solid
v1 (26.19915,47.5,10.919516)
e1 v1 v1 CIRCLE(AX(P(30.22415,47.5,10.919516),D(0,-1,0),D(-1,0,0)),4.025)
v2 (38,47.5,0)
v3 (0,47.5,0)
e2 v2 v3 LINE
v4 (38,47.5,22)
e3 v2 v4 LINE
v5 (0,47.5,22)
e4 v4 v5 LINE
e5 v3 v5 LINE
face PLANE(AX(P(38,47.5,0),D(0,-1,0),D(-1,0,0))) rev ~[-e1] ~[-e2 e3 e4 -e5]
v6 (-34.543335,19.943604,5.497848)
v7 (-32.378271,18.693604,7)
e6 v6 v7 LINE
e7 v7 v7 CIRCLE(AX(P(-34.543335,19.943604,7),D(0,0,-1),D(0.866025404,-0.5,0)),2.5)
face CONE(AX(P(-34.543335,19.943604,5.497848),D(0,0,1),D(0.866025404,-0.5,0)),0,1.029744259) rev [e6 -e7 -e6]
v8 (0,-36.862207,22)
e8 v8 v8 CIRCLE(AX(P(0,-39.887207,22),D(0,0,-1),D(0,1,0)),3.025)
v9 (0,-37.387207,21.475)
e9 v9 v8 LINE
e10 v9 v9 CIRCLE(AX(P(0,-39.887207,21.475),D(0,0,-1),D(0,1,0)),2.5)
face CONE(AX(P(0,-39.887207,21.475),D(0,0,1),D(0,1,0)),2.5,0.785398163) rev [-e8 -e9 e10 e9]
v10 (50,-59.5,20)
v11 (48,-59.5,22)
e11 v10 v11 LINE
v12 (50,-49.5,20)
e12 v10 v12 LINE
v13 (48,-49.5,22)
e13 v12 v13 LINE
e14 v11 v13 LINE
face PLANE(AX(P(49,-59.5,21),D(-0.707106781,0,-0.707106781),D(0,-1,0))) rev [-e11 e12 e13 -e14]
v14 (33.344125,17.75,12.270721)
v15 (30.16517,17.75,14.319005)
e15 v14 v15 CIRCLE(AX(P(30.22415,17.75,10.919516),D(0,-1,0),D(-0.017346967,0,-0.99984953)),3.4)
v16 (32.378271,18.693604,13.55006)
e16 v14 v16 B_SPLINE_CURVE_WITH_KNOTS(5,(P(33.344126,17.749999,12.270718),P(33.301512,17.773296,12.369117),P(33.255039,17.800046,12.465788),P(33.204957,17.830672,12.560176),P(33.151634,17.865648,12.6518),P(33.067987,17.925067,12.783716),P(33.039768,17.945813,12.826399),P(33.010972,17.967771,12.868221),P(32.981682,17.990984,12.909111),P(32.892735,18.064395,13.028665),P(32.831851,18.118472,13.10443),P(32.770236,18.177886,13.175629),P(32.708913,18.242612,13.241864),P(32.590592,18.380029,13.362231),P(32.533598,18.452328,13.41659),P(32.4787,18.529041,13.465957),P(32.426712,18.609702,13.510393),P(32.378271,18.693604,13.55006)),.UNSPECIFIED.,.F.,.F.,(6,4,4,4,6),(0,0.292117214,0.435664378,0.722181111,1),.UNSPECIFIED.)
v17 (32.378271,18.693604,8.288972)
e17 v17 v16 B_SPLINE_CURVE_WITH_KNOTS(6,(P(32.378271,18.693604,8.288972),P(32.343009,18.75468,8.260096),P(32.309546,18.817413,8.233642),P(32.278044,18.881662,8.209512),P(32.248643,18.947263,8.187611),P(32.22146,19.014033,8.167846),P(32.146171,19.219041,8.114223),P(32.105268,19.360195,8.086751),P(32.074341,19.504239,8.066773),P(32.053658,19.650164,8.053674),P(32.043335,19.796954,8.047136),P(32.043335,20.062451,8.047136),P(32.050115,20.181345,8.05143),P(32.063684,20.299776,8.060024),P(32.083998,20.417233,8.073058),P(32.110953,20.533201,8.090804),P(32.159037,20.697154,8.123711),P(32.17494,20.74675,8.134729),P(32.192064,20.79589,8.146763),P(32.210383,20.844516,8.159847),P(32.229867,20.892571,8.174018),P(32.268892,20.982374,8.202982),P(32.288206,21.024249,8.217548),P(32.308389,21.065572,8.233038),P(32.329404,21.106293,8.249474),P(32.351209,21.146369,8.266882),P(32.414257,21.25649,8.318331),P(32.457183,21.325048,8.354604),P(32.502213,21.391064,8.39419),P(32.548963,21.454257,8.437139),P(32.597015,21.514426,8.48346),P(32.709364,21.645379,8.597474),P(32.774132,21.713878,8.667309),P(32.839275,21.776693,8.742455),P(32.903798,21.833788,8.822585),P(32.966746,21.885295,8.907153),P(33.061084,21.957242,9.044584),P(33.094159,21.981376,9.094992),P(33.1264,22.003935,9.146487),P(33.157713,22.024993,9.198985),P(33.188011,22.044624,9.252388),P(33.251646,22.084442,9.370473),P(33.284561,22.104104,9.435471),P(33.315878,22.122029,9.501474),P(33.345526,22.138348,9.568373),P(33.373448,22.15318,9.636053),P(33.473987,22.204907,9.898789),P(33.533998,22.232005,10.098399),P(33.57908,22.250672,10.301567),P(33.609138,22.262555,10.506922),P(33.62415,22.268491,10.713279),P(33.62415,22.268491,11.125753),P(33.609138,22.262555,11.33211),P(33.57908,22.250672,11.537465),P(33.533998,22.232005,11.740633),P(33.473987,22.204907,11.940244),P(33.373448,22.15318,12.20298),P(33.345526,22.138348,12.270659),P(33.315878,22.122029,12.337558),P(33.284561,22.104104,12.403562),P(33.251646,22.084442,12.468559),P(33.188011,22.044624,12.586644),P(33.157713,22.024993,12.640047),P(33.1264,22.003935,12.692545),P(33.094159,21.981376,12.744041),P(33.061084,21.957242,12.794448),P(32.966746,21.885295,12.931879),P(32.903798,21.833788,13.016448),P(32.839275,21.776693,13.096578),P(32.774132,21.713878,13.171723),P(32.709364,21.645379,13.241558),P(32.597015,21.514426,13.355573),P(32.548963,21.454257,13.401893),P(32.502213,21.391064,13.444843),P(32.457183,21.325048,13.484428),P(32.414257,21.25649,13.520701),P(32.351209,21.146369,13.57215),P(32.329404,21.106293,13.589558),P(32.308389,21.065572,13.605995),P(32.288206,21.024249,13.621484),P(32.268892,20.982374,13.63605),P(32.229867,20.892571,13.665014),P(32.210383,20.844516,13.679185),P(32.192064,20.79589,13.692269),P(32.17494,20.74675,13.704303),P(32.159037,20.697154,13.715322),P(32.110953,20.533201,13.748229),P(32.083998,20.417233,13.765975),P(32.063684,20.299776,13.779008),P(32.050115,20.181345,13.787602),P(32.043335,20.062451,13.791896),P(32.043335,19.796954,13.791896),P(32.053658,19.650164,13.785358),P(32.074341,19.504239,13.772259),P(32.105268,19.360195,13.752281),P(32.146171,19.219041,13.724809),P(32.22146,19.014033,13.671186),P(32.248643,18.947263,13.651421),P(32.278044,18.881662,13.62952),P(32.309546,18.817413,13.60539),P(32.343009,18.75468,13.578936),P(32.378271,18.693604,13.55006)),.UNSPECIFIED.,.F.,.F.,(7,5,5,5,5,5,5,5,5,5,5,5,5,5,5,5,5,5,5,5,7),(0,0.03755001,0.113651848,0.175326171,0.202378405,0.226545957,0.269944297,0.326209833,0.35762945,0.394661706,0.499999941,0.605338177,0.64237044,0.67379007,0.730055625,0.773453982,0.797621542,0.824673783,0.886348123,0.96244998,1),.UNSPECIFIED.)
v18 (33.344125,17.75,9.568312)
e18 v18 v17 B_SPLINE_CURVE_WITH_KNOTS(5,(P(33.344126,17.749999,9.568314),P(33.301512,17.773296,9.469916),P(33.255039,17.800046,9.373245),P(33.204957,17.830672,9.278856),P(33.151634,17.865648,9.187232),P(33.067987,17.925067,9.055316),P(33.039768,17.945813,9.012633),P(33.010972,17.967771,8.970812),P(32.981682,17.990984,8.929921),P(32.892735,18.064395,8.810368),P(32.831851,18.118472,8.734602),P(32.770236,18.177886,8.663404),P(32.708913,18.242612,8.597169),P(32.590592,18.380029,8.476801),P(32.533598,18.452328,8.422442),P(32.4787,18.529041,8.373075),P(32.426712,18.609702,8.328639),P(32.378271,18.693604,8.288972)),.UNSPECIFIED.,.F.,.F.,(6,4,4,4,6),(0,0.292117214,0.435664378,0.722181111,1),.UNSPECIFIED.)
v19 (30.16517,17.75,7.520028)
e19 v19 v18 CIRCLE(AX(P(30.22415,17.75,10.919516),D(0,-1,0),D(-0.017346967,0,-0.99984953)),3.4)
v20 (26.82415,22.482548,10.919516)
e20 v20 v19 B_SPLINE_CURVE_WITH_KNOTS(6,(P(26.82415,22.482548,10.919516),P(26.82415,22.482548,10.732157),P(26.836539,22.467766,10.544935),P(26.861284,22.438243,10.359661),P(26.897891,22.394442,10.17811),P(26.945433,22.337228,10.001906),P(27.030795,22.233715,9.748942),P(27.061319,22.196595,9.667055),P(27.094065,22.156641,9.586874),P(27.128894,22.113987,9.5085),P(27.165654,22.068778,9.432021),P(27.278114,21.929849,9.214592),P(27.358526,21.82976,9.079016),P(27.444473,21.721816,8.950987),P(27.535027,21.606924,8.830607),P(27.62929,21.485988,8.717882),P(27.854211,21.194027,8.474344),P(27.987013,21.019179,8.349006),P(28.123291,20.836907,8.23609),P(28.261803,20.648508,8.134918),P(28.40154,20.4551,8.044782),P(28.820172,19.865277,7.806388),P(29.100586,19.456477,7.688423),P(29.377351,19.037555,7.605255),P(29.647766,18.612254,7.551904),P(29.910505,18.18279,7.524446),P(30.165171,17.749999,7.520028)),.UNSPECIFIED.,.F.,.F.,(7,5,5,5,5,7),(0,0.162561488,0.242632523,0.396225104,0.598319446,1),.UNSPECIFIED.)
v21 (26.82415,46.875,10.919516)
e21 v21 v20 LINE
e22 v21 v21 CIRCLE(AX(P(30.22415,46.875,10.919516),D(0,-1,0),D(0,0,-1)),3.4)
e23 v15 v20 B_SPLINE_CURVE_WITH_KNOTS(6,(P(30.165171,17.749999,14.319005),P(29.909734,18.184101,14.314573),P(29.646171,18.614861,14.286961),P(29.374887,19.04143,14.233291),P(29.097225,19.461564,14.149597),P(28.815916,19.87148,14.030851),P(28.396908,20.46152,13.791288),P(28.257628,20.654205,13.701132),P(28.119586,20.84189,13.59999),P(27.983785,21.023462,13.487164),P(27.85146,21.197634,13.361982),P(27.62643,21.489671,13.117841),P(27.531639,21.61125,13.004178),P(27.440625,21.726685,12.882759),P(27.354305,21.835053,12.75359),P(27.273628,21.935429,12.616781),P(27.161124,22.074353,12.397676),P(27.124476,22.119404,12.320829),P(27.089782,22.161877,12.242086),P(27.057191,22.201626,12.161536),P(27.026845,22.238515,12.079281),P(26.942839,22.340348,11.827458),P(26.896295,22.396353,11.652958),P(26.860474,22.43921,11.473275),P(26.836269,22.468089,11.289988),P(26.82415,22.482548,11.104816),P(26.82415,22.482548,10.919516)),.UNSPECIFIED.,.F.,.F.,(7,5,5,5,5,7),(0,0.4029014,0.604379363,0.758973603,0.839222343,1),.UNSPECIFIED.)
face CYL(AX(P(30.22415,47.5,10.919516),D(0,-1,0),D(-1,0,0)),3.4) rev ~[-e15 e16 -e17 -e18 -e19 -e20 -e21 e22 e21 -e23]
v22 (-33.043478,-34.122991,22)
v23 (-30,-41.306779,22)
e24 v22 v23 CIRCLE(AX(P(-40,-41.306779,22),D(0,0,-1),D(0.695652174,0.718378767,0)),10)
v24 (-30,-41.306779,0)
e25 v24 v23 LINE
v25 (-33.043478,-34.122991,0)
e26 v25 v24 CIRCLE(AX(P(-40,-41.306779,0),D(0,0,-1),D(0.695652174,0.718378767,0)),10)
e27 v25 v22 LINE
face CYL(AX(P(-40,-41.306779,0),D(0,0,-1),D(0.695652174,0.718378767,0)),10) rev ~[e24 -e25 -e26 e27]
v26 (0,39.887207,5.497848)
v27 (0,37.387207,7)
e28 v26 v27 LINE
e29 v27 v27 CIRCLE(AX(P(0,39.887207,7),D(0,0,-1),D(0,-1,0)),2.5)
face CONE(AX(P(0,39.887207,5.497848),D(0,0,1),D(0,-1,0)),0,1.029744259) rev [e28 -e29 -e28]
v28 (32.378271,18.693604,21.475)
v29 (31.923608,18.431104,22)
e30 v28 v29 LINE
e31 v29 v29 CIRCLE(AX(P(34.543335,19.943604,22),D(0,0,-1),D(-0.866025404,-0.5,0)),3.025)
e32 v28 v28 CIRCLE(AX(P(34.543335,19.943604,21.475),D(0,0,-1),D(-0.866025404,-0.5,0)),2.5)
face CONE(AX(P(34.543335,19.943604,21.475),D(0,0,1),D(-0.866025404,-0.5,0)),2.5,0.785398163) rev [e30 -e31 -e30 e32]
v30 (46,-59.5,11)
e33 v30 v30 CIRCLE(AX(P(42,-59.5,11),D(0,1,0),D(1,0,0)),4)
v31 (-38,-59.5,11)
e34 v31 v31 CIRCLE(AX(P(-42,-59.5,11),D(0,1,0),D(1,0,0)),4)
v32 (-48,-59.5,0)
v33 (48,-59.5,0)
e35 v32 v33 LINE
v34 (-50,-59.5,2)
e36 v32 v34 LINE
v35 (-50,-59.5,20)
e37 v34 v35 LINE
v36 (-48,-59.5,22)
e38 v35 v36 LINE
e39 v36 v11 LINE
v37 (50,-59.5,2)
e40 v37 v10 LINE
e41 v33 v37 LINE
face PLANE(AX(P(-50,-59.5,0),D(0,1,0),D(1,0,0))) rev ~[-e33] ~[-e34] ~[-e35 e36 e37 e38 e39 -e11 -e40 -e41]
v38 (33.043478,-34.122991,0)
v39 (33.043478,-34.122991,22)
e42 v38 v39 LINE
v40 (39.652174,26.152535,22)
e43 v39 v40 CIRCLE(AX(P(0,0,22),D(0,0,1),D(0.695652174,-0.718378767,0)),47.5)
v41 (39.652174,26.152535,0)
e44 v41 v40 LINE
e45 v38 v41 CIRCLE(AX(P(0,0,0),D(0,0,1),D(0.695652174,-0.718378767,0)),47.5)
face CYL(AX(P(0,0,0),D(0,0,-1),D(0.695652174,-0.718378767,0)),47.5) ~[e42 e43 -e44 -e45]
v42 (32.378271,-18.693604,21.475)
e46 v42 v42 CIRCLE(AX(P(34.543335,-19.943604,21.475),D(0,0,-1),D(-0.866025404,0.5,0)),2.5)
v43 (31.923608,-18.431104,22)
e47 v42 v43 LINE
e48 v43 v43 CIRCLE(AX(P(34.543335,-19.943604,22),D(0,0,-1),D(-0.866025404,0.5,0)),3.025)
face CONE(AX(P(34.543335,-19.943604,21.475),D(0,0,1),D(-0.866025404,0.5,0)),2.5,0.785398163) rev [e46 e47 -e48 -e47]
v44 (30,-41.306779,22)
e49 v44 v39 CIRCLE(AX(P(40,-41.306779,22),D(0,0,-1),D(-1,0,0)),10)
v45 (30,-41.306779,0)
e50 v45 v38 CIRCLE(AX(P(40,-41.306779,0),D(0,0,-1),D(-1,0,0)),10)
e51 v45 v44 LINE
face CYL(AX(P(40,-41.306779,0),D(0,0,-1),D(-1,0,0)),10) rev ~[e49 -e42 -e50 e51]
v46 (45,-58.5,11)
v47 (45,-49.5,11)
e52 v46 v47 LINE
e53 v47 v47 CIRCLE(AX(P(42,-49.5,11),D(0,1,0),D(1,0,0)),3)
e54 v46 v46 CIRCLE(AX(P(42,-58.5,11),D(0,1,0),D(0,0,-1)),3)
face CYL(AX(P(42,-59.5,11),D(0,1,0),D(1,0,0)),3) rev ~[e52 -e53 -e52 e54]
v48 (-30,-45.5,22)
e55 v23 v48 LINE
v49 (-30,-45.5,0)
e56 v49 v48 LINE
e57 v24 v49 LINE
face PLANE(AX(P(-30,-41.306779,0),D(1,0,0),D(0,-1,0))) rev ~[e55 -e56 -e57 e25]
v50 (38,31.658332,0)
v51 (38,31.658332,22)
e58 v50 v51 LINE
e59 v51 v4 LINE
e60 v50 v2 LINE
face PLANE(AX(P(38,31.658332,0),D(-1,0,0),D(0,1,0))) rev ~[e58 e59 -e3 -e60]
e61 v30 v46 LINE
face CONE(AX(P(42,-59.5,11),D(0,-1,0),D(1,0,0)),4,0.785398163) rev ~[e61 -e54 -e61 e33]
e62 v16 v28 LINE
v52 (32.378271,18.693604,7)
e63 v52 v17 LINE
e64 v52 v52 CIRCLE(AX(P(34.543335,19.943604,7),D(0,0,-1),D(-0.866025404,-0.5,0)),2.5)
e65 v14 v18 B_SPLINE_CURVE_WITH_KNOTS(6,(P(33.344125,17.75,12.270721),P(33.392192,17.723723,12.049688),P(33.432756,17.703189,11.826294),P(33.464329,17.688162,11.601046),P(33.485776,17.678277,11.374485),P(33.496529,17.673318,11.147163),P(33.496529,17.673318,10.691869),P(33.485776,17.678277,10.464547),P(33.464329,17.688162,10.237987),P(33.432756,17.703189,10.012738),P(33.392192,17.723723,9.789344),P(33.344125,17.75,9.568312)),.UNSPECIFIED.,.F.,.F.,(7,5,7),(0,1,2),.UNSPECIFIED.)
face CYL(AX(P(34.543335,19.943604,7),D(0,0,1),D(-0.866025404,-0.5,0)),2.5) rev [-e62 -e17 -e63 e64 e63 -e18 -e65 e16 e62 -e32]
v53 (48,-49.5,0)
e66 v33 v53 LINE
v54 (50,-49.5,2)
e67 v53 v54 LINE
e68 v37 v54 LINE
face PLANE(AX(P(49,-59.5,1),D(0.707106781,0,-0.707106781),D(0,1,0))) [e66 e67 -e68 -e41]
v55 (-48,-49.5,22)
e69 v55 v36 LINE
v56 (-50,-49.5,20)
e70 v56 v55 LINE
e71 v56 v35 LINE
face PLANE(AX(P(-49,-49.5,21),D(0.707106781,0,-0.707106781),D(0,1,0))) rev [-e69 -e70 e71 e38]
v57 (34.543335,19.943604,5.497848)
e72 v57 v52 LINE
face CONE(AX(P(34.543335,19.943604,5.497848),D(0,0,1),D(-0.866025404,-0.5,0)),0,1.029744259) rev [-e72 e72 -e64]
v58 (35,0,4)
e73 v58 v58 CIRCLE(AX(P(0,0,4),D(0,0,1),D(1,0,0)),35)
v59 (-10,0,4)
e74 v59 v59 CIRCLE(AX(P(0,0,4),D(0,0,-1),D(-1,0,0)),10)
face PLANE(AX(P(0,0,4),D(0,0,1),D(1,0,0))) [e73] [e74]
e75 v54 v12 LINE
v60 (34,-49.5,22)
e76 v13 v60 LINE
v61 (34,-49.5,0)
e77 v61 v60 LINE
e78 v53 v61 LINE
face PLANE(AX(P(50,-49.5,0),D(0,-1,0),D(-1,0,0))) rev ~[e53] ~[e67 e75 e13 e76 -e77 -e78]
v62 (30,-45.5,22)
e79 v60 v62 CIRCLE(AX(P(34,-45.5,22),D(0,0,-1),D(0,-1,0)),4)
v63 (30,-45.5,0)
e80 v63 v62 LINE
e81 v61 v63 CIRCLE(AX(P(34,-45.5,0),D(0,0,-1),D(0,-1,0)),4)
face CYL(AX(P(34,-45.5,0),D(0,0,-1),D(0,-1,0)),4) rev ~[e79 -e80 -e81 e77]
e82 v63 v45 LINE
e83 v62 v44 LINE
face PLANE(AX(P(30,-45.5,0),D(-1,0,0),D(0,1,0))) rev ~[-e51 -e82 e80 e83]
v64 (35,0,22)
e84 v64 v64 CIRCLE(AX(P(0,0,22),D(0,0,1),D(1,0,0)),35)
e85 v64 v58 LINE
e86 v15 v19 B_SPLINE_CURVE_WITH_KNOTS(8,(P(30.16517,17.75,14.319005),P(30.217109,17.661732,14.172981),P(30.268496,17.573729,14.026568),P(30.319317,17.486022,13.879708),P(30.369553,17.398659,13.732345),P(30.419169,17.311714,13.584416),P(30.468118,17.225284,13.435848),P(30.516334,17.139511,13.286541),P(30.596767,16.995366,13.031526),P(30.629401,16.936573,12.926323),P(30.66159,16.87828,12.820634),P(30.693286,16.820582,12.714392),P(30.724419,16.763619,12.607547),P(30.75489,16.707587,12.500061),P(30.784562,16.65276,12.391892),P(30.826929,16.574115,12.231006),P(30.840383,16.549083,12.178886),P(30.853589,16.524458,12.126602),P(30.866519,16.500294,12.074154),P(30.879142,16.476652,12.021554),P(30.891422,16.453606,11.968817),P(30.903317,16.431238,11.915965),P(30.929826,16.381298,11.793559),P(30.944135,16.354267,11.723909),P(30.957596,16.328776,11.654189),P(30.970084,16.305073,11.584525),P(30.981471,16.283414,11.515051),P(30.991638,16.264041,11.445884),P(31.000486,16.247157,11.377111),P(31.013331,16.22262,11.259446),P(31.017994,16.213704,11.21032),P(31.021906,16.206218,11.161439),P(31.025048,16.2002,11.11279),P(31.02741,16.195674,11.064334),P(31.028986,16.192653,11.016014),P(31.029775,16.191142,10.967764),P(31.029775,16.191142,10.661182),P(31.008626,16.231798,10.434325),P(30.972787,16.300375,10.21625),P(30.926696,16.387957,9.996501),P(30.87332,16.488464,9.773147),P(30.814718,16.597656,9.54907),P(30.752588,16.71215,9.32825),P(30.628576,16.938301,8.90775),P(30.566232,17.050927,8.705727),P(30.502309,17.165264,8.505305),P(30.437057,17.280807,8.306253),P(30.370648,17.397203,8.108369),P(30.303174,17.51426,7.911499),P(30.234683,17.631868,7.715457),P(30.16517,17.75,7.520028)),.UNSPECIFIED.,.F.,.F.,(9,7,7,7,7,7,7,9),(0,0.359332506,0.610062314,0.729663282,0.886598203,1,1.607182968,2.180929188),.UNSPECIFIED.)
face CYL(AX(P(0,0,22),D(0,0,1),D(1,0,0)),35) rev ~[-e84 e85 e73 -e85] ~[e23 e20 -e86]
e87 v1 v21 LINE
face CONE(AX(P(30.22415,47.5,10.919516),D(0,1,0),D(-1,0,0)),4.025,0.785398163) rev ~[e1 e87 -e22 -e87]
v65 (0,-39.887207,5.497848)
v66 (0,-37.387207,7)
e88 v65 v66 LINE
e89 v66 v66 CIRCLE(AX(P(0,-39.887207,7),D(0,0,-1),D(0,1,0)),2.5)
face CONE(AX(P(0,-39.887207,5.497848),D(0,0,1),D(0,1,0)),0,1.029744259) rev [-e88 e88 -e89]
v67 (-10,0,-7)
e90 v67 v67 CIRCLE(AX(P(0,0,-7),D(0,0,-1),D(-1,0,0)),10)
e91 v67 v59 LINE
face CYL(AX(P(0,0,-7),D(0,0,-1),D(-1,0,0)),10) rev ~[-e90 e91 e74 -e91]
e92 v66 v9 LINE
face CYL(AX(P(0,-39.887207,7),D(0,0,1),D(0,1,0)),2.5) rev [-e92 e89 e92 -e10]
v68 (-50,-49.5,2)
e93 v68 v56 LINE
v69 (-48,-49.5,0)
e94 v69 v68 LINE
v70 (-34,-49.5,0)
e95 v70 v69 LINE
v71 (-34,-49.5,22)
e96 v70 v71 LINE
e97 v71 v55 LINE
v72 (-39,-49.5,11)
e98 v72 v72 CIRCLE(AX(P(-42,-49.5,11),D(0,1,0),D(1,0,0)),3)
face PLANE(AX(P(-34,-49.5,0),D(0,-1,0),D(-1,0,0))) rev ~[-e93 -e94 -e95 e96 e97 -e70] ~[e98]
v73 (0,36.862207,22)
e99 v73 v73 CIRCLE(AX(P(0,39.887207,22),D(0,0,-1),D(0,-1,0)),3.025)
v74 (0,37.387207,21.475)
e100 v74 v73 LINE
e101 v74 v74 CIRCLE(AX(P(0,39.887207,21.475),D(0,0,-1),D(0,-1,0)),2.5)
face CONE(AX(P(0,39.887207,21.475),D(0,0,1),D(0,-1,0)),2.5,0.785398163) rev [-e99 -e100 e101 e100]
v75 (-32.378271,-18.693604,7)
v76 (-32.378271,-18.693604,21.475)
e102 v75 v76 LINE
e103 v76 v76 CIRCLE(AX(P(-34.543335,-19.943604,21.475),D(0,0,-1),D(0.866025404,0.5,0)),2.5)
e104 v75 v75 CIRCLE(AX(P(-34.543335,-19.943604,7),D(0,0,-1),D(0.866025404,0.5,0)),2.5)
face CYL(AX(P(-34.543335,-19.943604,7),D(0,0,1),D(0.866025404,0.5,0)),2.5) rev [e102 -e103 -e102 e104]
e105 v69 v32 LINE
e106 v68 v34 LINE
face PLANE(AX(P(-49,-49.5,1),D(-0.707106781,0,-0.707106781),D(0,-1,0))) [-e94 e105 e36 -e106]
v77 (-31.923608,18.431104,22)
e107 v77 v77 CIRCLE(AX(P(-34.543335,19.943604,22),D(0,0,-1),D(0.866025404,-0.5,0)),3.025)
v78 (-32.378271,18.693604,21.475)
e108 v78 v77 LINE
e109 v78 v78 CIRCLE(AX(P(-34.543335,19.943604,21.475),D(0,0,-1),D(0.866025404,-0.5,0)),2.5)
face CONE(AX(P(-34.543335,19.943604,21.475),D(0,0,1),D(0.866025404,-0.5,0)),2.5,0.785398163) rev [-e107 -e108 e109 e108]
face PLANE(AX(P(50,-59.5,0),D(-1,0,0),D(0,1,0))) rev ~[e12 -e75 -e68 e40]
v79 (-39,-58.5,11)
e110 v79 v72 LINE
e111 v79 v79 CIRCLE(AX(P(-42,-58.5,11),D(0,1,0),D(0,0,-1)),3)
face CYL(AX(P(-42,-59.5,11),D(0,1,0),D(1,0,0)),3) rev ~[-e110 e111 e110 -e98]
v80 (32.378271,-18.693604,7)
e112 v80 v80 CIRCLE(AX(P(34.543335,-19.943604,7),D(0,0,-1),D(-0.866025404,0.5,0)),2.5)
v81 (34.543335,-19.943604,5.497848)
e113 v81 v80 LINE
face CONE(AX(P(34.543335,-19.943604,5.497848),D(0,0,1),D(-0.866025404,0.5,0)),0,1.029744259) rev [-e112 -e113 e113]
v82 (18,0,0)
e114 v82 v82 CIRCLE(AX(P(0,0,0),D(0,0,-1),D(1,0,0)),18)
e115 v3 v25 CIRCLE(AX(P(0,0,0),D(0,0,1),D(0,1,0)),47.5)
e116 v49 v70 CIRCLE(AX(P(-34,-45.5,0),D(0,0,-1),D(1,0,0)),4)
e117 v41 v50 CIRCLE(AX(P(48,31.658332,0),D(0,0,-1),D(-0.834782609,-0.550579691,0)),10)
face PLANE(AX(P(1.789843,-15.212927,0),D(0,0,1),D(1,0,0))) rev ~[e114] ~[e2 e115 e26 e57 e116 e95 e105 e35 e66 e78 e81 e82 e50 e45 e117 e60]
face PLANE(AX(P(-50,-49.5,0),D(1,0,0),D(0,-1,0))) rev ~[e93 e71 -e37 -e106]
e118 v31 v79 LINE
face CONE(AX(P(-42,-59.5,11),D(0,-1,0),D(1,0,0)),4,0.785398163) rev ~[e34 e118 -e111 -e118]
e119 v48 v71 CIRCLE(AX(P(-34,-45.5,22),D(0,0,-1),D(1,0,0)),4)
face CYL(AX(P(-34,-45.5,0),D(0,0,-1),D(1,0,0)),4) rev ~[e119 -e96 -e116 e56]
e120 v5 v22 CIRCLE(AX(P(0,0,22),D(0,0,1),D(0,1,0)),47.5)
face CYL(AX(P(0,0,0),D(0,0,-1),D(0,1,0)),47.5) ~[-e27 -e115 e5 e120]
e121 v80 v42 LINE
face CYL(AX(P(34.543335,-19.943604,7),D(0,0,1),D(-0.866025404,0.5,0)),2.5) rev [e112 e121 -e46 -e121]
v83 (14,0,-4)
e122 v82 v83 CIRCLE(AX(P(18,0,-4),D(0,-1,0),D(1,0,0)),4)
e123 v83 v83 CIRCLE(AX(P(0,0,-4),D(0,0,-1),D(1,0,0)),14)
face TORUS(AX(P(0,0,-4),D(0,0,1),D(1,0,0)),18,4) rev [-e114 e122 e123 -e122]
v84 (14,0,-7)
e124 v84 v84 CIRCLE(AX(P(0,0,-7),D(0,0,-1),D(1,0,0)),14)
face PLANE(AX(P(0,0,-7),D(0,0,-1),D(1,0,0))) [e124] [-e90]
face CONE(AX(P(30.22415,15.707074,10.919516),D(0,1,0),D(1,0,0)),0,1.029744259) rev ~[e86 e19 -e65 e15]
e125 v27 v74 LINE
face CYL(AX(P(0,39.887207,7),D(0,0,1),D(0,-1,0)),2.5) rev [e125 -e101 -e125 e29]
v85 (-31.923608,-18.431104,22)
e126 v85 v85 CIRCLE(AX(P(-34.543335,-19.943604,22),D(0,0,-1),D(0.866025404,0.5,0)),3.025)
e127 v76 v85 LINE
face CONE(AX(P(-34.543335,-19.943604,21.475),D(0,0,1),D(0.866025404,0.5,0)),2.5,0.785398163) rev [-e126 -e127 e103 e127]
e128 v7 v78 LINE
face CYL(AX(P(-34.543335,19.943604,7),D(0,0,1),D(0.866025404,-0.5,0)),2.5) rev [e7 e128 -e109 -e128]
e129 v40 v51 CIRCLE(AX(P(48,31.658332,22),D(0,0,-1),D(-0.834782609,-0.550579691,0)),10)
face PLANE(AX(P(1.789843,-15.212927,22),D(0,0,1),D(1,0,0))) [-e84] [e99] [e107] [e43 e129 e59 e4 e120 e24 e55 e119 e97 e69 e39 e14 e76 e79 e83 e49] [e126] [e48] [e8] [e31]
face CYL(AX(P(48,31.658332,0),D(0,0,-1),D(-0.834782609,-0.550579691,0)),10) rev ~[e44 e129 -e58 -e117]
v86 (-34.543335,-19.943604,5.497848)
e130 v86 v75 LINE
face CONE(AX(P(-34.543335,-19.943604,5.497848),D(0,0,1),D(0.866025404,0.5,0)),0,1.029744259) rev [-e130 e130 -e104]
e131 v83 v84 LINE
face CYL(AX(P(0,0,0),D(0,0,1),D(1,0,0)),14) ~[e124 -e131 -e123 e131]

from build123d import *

# Parameters (mm, degrees)
BOSS_EXTRUDE1_DEPTH                                 = 22
SKETCH2_R                                           = 35
CUT_EXTRUDE1_DEPTH                                  = 18
SKETCH3_R                                           = 14
BOSS_EXTRUDE2_DEPTH                                 = 7
FILLET1_R                                           = 4
SKETCH4_R                                           = 10
CUT_EXTRUDE2_DEPTH                                  = 83.953300115
CHAMFER1_SIZE                                       = 2
M8X1_25_TAPPED_HOLE1_D                              = 6.8
M8X1_25_TAPPED_HOLE1_DEPTH                          = 29.75
M8X1_25_TAPPED_HOLE1_CSINK_D                        = 8.05
M8X1_25_TAPPED_HOLE1_CSINK_ANGLE                    = 90
M8X1_25_TAPPED_HOLE1_TIP                            = 2.042926105
CIRPATTERN1_COUNT                                   = 6
CSK_FOR_M8_COUNTERSUNK_FLAT_HEAD_SCREW1_D           = 6
CSK_FOR_M8_COUNTERSUNK_FLAT_HEAD_SCREW1_DEPTH       = 20
CSK_FOR_M8_COUNTERSUNK_FLAT_HEAD_SCREW1_CSINK_D     = 8
CSK_FOR_M8_COUNTERSUNK_FLAT_HEAD_SCREW1_CSINK_ANGLE = 90
CSK_FOR_M8_COUNTERSUNK_FLAT_HEAD_SCREW1_TIP         = 1.802581857


with BuildPart() as part:
    # Sketch1 → Boss-Extrude1 (new body)
    with BuildSketch(Plane.XY):
        with BuildLine():
            Line((-50, -59.5), (50, -59.5))
            Line((50, -59.5), (50, -49.5))
            Line((50, -49.5), (34, -49.5))
            ThreePointArc((34, -49.5), (31.171572875, -48.328427125), (30, -45.5))
            Line((30, -45.5), (30, -41.306779105))
            ThreePointArc((30, -41.306779105), (30.792252789, -37.405831617), (33.043478261, -34.122991434))
            ThreePointArc((33.043478261, -34.122991434), (47.217043986, -5.176944775), (39.652173913, 26.152535326))
            ThreePointArc((39.652173913, 26.152535326), (38.421945373, 28.784159388), (38, 31.658332237))
            Line((38, 31.658332237), (38, 47.5))
            Line((38, 47.5), (0, 47.5))
            ThreePointArc((0, 47.5), (-44.028922841, 17.824251834), (-33.043478261, -34.122991434))
            ThreePointArc((-33.043478261, -34.122991434), (-30.792252789, -37.405831617), (-30, -41.306779105))
            Line((-30, -41.306779105), (-30, -45.5))
            ThreePointArc((-30, -45.5), (-31.171572875, -48.328427125), (-34, -49.5))
            Line((-34, -49.5), (-50, -49.5))
            Line((-50, -49.5), (-50, -59.5))
        make_face()
    extrude(amount=BOSS_EXTRUDE1_DEPTH)

    # Sketch2 → Cut-Extrude1 (cut)
    with BuildSketch(Plane.XY.offset(22)):
        Circle(SKETCH2_R)
    extrude(amount=-CUT_EXTRUDE1_DEPTH, mode=Mode.SUBTRACT)

    # Sketch3 → Boss-Extrude2 (add)
    with BuildSketch(Plane(origin=(0, 0, 0), x_dir=(-1, 0, 0), z_dir=(0, 0, -1))):
        with Locations(Location((0, 0, 0), (0, 0, 180))):
            Circle(SKETCH3_R)
    extrude(amount=BOSS_EXTRUDE2_DEPTH)

    # Fillet1
    fillet1_edges = [part.edges().sort_by_distance(p)[0] for p in [
        (-14, 0, 0),
    ]]
    fillet(fillet1_edges, radius=FILLET1_R)

    # Sketch4 → Cut-Extrude2 (cut, through all)
    with BuildSketch(Plane(origin=(0, 0, -7), x_dir=(-1, 0, 0), z_dir=(0, 0, -1))):
        Circle(SKETCH4_R)
    extrude(amount=-CUT_EXTRUDE2_DEPTH, mode=Mode.SUBTRACT)

    # Chamfer1
    chamfer1_edges = [part.edges().sort_by_distance(p)[0] for p in [
        (50, -54.5, 0),
        (-50, -54.5, 0),
        (-50, -54.5, 22),
        (50, -54.5, 22),
    ]]
    chamfer(chamfer1_edges, length=CHAMFER1_SIZE)

    # M8x1.25 Tapped Hole1
    with Locations(Plane(origin=(0, 47.5, 0), x_dir=(1, 0, 0), z_dir=(0, 1, 0))):
        with Locations((30.22415, -10.919516186)):
            CounterSinkHole(M8X1_25_TAPPED_HOLE1_D / 2, M8X1_25_TAPPED_HOLE1_CSINK_D / 2, depth=M8X1_25_TAPPED_HOLE1_DEPTH, counter_sink_angle=M8X1_25_TAPPED_HOLE1_CSINK_ANGLE)
            with Locations((0, 0, -(M8X1_25_TAPPED_HOLE1_DEPTH + M8X1_25_TAPPED_HOLE1_TIP / 2))):  # 118° drill point
                Cone(0, M8X1_25_TAPPED_HOLE1_D / 2, M8X1_25_TAPPED_HOLE1_TIP, mode=Mode.SUBTRACT)

    # Sketch10 → M6x1.0 Tapped Hole1 (revolve, cut)
    with BuildSketch(Plane(origin=(0, 39.887207207, 22), x_dir=(0, -1, 0), z_dir=(1, 0, 0))):
        Polygon((0, 0), (0, 16.502151548), (2.5, 15), (2.5, 0.525), (3.025, 0), align=None)
    m6x1_0_tapped_hole1 = revolve(axis=Axis((0, 39.887207207, 28.35), (0, 0, -1)), mode=Mode.SUBTRACT)

    # CirPattern1: M6x1.0 Tapped Hole1 ×6 about axis
    cirpattern1_axis = Axis((0, 0, 0), (0, 0, 1))
    for i in range(1, CIRPATTERN1_COUNT):
        add(m6x1_0_tapped_hole1.rotate(cirpattern1_axis, i * 360 / CIRPATTERN1_COUNT), mode=Mode.SUBTRACT)

    # CSK for M8 Countersunk Flat Head Screw1
    with Locations(Plane(origin=(0, -59.5, 0), x_dir=(-1, 0, 0), z_dir=(0, -1, 0))):
        with Locations((42, -11), (-42, -11)):
            CounterSinkHole(CSK_FOR_M8_COUNTERSUNK_FLAT_HEAD_SCREW1_D / 2, CSK_FOR_M8_COUNTERSUNK_FLAT_HEAD_SCREW1_CSINK_D / 2, depth=CSK_FOR_M8_COUNTERSUNK_FLAT_HEAD_SCREW1_DEPTH, counter_sink_angle=CSK_FOR_M8_COUNTERSUNK_FLAT_HEAD_SCREW1_CSINK_ANGLE)
            with Locations((0, 0, -(CSK_FOR_M8_COUNTERSUNK_FLAT_HEAD_SCREW1_DEPTH + CSK_FOR_M8_COUNTERSUNK_FLAT_HEAD_SCREW1_TIP / 2))):  # 118° drill point
                Cone(0, CSK_FOR_M8_COUNTERSUNK_FLAT_HEAD_SCREW1_D / 2, CSK_FOR_M8_COUNTERSUNK_FLAT_HEAD_SCREW1_TIP, mode=Mode.SUBTRACT)


solid = part.part
